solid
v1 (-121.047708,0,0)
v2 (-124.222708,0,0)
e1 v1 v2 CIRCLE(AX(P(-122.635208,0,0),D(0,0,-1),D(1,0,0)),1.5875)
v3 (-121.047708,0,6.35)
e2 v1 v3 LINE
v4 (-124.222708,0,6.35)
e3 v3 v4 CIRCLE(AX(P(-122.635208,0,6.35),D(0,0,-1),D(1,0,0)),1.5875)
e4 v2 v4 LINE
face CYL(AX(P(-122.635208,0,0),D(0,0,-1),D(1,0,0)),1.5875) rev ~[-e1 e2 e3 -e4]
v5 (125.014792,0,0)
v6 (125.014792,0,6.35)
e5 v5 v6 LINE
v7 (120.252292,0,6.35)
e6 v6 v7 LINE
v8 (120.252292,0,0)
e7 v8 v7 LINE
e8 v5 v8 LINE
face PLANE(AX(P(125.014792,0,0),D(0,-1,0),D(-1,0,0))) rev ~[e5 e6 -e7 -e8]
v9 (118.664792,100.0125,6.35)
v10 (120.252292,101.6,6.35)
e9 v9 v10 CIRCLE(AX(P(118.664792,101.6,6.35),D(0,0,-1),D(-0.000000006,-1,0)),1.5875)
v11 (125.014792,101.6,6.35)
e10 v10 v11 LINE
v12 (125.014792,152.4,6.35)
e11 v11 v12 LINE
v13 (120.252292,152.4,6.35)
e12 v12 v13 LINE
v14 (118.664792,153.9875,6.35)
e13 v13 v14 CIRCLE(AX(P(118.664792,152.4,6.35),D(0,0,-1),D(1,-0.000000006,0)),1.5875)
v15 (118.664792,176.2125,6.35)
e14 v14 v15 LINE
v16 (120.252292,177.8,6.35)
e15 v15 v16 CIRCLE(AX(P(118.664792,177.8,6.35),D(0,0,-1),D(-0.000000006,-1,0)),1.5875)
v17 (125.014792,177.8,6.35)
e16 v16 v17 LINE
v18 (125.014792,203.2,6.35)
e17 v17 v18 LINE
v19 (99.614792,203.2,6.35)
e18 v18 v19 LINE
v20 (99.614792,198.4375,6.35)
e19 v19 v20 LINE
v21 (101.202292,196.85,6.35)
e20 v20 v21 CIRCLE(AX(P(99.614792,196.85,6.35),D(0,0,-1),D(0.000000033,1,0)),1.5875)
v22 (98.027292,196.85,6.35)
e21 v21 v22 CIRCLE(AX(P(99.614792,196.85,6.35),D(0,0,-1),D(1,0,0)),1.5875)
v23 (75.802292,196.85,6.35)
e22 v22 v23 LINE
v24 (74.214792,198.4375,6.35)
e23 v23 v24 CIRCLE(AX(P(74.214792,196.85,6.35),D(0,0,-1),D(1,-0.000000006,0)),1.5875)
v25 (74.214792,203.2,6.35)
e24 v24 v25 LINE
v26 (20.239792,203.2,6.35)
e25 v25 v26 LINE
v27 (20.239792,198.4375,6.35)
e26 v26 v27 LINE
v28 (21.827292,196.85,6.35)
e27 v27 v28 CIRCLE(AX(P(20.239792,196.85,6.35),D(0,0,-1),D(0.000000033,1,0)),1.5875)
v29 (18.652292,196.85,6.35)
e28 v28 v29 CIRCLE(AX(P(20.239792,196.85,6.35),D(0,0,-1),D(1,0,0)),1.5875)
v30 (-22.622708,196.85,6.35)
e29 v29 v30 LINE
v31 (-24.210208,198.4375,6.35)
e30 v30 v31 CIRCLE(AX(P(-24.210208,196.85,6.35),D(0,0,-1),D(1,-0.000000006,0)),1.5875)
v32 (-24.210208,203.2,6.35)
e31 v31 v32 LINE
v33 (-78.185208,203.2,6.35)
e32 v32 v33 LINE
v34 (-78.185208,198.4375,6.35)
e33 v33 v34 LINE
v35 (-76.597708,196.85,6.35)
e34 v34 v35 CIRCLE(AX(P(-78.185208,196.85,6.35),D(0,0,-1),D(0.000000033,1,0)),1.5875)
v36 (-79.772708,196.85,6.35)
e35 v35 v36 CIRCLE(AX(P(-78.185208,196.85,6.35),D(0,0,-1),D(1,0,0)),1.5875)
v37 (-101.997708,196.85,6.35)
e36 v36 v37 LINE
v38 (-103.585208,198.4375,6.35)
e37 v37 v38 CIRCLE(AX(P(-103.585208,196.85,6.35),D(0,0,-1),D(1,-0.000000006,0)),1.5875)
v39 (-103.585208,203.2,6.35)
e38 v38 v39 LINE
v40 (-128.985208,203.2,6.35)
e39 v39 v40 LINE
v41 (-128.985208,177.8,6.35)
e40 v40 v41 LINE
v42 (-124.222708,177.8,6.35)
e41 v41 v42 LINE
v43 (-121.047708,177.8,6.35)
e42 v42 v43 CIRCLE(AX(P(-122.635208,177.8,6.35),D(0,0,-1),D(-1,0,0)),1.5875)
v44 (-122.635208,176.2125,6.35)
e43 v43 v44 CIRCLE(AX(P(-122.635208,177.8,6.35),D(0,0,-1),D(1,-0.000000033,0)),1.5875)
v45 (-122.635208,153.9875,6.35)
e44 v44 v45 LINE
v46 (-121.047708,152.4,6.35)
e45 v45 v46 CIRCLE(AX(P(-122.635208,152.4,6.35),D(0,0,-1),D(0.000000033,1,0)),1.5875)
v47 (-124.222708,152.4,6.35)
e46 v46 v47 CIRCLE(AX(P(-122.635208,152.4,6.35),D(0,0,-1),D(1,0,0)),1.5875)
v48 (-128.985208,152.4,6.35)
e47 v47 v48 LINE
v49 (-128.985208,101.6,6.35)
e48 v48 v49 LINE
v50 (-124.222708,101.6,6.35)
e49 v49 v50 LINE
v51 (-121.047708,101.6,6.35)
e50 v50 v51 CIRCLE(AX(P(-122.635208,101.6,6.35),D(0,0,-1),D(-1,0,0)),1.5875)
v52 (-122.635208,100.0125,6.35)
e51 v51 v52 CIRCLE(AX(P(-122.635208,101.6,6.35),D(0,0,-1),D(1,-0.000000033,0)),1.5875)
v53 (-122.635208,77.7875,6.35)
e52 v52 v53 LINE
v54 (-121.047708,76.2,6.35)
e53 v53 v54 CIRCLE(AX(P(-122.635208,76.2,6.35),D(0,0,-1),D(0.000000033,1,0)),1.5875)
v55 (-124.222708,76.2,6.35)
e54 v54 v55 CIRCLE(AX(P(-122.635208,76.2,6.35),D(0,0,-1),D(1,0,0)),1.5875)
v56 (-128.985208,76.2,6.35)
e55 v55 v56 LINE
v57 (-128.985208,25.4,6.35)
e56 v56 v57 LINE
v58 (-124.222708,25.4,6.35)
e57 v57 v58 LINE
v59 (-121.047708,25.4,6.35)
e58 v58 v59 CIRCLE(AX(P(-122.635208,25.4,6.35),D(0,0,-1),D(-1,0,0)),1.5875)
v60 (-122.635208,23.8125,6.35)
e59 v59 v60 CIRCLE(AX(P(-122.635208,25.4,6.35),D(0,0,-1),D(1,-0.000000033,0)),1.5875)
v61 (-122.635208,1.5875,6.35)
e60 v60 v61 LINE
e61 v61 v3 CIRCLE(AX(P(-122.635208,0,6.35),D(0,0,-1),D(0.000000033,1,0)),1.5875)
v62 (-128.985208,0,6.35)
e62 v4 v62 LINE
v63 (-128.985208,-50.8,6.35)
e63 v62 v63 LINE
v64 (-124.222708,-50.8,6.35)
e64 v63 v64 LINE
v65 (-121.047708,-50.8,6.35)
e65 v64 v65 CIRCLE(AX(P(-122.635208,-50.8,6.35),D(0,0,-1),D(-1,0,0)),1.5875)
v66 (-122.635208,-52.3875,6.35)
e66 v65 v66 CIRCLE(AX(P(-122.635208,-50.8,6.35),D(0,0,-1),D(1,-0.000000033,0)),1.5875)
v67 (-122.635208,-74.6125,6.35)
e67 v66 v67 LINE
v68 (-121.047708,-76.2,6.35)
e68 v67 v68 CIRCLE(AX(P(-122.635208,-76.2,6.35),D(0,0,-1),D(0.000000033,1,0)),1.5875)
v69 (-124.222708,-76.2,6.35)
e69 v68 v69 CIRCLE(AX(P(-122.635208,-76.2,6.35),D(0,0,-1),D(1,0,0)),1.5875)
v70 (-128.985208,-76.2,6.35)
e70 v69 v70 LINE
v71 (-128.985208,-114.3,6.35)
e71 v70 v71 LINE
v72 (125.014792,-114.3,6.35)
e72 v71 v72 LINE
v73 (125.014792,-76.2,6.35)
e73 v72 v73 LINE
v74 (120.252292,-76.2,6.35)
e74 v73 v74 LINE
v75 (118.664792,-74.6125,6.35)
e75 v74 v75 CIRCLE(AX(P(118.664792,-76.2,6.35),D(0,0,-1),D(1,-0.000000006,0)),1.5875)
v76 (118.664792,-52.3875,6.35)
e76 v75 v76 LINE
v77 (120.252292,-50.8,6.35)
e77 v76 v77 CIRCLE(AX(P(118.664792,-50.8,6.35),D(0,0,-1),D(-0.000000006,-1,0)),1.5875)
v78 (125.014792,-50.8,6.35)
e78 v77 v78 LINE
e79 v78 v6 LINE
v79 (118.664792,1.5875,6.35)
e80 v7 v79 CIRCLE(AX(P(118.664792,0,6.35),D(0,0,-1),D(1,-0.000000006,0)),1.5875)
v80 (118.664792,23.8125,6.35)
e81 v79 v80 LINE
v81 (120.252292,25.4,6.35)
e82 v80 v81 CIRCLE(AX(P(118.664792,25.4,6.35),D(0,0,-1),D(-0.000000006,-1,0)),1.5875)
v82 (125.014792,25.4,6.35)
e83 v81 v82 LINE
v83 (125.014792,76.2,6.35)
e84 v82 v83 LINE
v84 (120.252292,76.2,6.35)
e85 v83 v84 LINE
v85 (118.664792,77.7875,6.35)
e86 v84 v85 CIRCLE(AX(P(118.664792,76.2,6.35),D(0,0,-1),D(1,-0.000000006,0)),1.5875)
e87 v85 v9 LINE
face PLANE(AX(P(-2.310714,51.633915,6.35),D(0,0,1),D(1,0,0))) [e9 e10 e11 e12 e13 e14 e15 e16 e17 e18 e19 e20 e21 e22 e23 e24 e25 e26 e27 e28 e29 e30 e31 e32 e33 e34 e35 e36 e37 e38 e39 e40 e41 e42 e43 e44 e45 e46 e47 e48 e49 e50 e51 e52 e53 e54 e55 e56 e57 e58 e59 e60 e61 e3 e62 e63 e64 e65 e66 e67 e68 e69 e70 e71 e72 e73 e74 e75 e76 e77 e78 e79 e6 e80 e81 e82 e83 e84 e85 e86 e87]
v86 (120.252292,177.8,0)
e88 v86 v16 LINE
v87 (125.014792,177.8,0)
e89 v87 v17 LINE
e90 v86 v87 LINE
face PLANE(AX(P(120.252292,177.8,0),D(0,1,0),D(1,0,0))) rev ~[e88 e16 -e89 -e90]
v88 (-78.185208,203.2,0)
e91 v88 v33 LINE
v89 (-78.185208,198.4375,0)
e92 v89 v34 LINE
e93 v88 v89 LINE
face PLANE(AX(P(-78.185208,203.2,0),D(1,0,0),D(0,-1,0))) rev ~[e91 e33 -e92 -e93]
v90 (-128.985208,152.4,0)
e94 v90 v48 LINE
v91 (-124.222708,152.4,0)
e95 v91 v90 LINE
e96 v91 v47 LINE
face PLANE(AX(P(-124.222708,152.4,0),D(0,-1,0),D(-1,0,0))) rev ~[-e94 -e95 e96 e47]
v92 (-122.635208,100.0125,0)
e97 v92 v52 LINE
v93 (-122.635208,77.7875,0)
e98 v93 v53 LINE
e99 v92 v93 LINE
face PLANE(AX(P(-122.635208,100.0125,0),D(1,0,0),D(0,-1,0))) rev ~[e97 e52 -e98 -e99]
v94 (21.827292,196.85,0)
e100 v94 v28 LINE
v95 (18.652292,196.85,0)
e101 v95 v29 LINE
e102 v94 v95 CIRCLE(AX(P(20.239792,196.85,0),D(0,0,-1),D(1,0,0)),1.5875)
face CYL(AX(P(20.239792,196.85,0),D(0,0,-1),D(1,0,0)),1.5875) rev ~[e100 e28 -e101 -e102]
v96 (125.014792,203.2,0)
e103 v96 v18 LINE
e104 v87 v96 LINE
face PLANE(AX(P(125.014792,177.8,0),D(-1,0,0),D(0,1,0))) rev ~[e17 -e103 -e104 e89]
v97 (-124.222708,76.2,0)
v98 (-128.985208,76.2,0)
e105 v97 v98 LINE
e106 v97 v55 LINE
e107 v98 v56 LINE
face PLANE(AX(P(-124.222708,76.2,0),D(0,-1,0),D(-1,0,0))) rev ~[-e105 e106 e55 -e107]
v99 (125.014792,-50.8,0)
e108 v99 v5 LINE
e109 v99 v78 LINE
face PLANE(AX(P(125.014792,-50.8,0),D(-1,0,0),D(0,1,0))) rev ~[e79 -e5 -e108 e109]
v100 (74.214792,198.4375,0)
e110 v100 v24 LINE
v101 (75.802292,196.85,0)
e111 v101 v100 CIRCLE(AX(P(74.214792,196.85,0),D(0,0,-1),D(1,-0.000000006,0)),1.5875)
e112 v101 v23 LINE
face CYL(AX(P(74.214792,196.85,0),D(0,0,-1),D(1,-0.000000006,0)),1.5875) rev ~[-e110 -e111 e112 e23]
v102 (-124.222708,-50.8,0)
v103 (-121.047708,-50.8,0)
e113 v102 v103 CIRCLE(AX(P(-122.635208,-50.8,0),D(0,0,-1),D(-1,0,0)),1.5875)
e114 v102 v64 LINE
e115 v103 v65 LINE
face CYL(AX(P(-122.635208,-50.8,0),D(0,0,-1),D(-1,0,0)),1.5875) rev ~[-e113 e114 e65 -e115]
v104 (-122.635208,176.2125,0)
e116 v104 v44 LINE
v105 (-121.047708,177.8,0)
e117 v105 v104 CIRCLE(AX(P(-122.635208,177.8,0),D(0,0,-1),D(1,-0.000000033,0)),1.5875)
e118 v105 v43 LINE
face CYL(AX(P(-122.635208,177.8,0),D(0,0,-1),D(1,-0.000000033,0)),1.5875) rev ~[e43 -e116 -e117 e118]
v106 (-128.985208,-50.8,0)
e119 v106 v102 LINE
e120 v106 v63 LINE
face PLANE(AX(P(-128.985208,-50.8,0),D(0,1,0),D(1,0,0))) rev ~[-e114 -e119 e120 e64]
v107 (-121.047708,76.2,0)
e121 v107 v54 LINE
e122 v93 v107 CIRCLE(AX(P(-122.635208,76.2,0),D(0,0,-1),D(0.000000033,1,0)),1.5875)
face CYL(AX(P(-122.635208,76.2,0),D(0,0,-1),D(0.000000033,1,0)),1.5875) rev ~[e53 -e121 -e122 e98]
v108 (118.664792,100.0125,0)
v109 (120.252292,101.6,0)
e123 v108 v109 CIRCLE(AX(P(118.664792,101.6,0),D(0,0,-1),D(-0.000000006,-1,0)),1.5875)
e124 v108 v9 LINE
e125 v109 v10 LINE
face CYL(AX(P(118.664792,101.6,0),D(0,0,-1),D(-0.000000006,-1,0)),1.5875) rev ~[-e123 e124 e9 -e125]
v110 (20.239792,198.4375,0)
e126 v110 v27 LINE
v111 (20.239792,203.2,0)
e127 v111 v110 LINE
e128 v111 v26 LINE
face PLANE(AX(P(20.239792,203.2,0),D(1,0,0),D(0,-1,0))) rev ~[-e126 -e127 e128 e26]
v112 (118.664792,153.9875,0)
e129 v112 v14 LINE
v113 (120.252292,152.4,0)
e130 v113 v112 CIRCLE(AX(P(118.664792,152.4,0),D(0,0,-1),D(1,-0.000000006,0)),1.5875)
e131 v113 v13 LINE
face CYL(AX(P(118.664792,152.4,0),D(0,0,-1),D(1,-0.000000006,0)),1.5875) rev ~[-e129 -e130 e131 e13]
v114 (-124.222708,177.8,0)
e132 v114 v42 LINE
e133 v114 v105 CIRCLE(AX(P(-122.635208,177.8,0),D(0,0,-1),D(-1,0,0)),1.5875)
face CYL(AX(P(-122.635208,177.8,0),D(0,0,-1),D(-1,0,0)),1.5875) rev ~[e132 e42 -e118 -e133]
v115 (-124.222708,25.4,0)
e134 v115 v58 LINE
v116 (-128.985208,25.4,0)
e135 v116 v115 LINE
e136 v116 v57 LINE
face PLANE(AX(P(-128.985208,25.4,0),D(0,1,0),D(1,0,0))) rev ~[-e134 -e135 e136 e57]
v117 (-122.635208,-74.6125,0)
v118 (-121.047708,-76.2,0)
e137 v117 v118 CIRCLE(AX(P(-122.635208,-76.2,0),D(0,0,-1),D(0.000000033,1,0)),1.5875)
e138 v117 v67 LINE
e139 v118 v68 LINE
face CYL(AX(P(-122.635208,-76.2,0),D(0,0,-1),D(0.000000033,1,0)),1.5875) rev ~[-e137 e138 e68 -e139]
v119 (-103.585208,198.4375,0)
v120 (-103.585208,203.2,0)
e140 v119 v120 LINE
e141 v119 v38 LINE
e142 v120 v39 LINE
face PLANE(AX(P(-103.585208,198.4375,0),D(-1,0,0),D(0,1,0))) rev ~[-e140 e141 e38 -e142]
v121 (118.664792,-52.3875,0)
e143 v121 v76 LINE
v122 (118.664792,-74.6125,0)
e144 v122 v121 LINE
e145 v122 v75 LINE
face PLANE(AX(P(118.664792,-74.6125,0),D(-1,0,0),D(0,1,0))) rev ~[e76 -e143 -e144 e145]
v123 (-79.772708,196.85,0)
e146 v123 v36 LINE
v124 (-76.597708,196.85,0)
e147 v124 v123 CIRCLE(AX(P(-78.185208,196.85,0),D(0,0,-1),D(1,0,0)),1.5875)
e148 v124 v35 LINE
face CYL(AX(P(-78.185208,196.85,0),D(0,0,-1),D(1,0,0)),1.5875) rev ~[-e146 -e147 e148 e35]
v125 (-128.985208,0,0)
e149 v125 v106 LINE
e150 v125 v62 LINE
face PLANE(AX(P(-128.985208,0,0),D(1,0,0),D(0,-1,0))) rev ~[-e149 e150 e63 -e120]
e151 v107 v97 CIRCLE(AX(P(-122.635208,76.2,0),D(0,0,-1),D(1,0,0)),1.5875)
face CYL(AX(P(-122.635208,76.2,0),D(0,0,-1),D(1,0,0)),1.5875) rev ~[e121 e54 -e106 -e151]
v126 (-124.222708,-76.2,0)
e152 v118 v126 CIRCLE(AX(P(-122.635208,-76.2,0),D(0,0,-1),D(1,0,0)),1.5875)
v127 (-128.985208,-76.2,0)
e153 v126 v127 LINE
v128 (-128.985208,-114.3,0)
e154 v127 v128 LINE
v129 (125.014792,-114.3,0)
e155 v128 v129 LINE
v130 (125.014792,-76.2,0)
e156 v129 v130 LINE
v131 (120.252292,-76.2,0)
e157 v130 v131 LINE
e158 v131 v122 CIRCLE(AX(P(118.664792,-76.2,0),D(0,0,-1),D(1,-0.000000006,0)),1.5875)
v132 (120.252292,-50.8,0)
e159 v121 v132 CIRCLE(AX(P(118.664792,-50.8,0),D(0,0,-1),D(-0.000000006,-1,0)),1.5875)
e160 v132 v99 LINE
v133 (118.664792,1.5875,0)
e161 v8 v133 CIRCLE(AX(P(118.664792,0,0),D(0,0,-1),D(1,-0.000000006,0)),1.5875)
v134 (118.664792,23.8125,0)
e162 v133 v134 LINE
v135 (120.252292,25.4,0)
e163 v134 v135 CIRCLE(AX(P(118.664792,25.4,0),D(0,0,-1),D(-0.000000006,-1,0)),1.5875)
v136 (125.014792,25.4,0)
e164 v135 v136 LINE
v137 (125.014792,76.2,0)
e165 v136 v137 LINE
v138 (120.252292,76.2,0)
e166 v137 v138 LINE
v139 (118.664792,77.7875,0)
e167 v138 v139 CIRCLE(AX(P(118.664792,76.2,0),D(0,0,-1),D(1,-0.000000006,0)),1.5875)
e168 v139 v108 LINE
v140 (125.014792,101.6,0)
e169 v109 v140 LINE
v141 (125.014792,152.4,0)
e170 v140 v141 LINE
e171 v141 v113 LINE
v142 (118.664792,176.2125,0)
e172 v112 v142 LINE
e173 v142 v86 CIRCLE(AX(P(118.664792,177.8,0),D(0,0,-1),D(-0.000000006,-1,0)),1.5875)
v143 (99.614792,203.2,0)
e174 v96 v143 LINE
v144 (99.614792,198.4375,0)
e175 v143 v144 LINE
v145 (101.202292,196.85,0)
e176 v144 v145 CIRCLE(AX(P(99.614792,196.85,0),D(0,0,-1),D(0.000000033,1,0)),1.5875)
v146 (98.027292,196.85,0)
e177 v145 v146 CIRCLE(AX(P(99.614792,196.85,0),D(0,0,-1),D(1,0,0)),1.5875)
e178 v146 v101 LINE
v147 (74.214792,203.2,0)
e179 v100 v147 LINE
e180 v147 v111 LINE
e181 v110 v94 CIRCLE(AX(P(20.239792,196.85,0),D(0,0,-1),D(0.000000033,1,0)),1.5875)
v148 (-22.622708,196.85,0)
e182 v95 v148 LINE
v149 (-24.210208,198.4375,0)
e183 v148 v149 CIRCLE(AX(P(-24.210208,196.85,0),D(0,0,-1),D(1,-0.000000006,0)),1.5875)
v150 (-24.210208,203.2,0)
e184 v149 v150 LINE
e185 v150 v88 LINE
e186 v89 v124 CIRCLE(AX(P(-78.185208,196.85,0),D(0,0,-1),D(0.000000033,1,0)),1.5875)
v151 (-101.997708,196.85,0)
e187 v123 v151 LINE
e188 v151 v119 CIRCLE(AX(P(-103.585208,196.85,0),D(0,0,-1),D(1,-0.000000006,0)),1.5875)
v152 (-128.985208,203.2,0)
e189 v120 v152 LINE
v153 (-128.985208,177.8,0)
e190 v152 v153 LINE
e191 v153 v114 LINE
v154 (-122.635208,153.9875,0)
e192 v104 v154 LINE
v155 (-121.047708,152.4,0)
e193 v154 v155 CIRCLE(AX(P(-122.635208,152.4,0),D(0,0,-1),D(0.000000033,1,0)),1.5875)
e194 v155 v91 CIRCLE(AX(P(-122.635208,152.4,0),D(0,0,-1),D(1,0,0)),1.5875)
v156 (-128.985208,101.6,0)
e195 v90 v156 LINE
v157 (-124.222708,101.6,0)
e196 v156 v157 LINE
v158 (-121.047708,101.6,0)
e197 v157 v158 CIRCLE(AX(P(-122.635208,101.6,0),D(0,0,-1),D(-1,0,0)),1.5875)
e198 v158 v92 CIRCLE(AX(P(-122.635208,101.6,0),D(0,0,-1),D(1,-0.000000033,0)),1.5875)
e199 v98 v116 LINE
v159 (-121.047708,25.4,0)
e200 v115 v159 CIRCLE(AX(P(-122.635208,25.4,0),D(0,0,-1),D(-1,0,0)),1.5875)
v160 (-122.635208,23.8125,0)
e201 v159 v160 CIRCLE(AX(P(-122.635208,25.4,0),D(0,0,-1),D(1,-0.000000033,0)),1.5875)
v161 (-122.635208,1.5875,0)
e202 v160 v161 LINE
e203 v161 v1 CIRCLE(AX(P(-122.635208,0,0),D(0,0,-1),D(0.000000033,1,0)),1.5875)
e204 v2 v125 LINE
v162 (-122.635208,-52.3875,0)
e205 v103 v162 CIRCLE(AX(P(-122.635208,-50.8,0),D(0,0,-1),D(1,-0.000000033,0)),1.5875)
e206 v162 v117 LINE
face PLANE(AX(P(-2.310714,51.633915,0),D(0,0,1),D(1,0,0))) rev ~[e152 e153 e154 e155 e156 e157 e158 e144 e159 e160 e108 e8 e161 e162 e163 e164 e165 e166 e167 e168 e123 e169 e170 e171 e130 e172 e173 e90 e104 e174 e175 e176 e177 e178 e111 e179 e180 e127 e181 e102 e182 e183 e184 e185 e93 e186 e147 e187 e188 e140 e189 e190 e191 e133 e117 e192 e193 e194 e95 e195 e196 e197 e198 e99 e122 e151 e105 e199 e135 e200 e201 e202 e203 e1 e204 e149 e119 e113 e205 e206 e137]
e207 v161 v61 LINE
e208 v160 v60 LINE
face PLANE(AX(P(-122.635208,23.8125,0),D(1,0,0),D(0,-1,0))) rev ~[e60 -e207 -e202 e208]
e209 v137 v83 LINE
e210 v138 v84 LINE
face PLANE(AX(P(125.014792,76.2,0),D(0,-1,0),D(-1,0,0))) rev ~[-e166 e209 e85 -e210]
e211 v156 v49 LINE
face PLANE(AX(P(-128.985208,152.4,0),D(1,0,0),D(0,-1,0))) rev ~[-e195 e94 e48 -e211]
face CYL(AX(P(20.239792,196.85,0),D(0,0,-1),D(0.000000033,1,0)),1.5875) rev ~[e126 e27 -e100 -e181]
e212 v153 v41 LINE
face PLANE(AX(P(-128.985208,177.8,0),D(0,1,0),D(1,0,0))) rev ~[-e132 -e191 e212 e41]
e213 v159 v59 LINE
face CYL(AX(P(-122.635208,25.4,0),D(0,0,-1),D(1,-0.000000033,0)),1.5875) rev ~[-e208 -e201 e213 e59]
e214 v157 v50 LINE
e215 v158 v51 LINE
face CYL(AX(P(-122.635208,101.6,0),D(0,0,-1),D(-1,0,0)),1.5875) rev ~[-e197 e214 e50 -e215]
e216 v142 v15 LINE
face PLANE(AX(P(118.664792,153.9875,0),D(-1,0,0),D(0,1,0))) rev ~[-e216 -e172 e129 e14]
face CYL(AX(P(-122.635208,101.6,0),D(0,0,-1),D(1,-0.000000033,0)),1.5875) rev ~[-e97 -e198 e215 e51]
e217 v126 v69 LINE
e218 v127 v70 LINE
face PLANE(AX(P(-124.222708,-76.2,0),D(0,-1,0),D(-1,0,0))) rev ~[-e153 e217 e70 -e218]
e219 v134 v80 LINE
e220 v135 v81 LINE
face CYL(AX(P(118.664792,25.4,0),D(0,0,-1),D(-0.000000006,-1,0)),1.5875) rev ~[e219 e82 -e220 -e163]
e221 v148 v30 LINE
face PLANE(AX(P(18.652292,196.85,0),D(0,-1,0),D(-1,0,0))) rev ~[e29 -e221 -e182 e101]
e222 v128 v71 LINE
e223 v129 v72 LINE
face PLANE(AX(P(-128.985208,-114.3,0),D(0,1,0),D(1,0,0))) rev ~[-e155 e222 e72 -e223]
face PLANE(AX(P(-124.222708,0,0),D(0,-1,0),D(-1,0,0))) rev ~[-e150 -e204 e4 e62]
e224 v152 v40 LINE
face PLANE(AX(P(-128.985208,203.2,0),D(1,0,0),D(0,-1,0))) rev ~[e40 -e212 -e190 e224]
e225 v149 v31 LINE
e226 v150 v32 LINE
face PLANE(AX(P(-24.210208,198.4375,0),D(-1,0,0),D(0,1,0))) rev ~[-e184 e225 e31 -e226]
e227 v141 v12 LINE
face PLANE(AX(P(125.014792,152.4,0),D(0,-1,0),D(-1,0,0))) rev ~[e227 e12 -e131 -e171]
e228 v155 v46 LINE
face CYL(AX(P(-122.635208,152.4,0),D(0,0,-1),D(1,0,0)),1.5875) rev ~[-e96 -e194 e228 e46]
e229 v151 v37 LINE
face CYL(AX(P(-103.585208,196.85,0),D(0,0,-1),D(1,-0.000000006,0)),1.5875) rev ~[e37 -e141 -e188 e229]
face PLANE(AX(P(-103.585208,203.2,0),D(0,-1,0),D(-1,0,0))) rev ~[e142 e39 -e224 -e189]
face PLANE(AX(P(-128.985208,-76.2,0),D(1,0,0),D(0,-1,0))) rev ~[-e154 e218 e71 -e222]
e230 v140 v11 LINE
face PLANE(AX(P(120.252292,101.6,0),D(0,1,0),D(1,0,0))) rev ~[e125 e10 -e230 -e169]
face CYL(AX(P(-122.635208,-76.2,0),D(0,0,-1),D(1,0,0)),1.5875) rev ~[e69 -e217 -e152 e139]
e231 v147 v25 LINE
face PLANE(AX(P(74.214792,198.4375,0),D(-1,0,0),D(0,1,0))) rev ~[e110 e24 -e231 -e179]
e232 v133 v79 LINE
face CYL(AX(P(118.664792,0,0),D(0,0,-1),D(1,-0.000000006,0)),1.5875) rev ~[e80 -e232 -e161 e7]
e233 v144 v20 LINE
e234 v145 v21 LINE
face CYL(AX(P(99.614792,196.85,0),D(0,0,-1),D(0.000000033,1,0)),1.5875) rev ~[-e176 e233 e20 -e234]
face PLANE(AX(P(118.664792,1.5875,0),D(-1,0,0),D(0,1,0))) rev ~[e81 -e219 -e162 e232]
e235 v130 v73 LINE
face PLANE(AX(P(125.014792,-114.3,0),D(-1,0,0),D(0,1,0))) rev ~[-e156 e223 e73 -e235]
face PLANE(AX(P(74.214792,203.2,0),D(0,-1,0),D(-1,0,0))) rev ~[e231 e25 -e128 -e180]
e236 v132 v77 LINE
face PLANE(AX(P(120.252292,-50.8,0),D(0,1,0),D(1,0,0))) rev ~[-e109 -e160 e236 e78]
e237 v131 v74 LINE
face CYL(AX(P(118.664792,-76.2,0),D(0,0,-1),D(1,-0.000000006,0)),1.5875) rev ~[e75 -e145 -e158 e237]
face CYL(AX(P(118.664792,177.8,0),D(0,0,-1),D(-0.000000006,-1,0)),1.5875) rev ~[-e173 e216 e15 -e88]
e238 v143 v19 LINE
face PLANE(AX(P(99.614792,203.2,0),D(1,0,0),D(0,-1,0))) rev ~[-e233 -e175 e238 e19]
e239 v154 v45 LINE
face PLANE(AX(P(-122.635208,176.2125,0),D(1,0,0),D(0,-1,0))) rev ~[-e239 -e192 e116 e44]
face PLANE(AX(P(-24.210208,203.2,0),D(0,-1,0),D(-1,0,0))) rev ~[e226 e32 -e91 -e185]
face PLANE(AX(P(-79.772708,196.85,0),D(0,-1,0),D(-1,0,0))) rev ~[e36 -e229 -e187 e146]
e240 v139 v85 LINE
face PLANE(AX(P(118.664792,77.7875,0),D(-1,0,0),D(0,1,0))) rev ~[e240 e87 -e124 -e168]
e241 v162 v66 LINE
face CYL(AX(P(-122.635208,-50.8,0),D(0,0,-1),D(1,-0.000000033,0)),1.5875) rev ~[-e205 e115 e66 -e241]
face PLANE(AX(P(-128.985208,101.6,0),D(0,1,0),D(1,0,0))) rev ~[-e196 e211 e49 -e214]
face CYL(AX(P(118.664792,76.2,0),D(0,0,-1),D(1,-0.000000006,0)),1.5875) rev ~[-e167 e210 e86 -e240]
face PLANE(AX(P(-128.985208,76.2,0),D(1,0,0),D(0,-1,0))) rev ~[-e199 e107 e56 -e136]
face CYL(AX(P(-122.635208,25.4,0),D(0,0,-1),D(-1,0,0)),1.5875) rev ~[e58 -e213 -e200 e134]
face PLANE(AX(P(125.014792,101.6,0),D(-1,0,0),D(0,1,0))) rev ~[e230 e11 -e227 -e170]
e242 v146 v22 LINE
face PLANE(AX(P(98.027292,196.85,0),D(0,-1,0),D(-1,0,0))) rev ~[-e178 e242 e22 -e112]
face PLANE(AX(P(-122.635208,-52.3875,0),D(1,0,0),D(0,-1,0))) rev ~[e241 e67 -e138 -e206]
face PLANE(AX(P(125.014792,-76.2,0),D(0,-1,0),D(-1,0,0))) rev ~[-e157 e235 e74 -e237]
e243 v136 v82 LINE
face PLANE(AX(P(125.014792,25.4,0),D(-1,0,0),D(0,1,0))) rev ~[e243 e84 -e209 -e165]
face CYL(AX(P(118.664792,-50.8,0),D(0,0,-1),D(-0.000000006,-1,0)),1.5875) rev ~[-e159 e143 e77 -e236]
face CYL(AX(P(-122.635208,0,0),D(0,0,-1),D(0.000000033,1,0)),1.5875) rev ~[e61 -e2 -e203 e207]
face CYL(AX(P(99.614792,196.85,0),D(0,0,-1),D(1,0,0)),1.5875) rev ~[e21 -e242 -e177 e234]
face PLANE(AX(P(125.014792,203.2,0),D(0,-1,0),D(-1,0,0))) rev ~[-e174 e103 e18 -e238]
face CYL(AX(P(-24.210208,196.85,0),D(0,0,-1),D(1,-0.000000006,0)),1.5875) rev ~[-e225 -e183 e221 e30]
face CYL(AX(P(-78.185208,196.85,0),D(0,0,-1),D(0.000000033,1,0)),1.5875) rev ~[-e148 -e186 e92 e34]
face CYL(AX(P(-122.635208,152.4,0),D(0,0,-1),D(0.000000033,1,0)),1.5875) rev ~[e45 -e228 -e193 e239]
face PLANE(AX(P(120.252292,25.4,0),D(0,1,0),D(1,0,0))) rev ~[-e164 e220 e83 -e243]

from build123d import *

# Parameters (mm, degrees)
F1_DEPTH = 6.35


with BuildPart() as f1:
    # F0 (on Top) → F1 (new body)
    with BuildSketch(Plane.XY):
        with BuildLine():
            Line((-103.585208, 203.2), (-128.985208, 203.2))
            Line((-128.985208, 203.2), (-128.985208, 177.8))
            Line((-128.985208, 177.8), (-124.222708, 177.8))
            ThreePointArc((-124.222708, 177.8), (-122.635208, 179.3875), (-121.047708, 177.8))
            ThreePointArc((-121.047708, 177.8), (-121.512676, 176.677468), (-122.635208, 176.2125))
            Line((-122.635208, 176.2125), (-122.635208, 153.9875))
            ThreePointArc((-122.635208, 153.9875), (-121.512676, 153.522532), (-121.047708, 152.4))
            ThreePointArc((-121.047708, 152.4), (-122.635208, 150.8125), (-124.222708, 152.4))
            Line((-124.222708, 152.4), (-128.985208, 152.4))
            Line((-128.985208, 152.4), (-128.985208, 101.6))
            Line((-128.985208, 101.6), (-124.222708, 101.6))
            ThreePointArc((-124.222708, 101.6), (-122.635208, 103.1875), (-121.047708, 101.6))
            ThreePointArc((-121.047708, 101.6), (-121.512676, 100.477468), (-122.635208, 100.0125))
            Line((-122.635208, 100.0125), (-122.635208, 77.7875))
            ThreePointArc((-122.635208, 77.7875), (-121.512676, 77.322532), (-121.047708, 76.2))
            ThreePointArc((-121.047708, 76.2), (-122.635208, 74.6125), (-124.222708, 76.2))
            Line((-124.222708, 76.2), (-128.985208, 76.2))
            Line((-128.985208, 76.2), (-128.985208, 25.4))
            Line((-128.985208, 25.4), (-124.222708, 25.4))
            ThreePointArc((-124.222708, 25.4), (-122.635208, 26.9875), (-121.047708, 25.4))
            ThreePointArc((-121.047708, 25.4), (-121.512676, 24.277468), (-122.635208, 23.8125))
            Line((-122.635208, 23.8125), (-122.635208, 1.5875))
            ThreePointArc((-122.635208, 1.5875), (-121.512676, 1.122532), (-121.047708, 0))
            ThreePointArc((-121.047708, 0), (-122.635208, -1.5875), (-124.222708, 0))
            Line((-124.222708, 0), (-128.985208, 0))
            Line((-128.985208, 0), (-128.985208, -50.8))
            Line((-128.985208, -50.8), (-124.222708, -50.8))
            ThreePointArc((-124.222708, -50.8), (-122.635208, -49.2125), (-121.047708, -50.8))
            ThreePointArc((-121.047708, -50.8), (-121.512676, -51.922532), (-122.635208, -52.3875))
            Line((-122.635208, -52.3875), (-122.635208, -74.6125))
            ThreePointArc((-122.635208, -74.6125), (-121.512676, -75.077468), (-121.047708, -76.2))
            ThreePointArc((-121.047708, -76.2), (-122.635208, -77.7875), (-124.222708, -76.2))
            Line((-124.222708, -76.2), (-128.985208, -76.2))
            Line((-128.985208, -76.2), (-128.985208, -114.3))
            Line((-128.985208, -114.3), (125.014792, -114.3))
            Line((125.014792, -114.3), (125.014792, -76.2))
            Line((125.014792, -76.2), (120.252292, -76.2))
            ThreePointArc((120.252292, -76.2), (117.54226, -77.322532), (118.664792, -74.6125))
            Line((118.664792, -74.6125), (118.664792, -52.3875))
            ThreePointArc((118.664792, -52.3875), (117.54226, -49.677468), (120.252292, -50.8))
            Line((120.252292, -50.8), (125.014792, -50.8))
            Line((125.014792, -50.8), (125.014792, 0))
            Line((125.014792, 0), (120.252292, 0))
            ThreePointArc((120.252292, 0), (117.54226, -1.122532), (118.664792, 1.5875))
            Line((118.664792, 1.5875), (118.664792, 23.8125))
            ThreePointArc((118.664792, 23.8125), (117.54226, 26.522532), (120.252292, 25.4))
            Line((120.252292, 25.4), (125.014792, 25.4))
            Line((125.014792, 25.4), (125.014792, 76.2))
            Line((125.014792, 76.2), (120.252292, 76.2))
            ThreePointArc((120.252292, 76.2), (117.54226, 75.077468), (118.664792, 77.7875))
            Line((118.664792, 77.7875), (118.664792, 100.0125))
            ThreePointArc((118.664792, 100.0125), (117.54226, 102.722532), (120.252292, 101.6))
            Line((120.252292, 101.6), (125.014792, 101.6))
            Line((125.014792, 101.6), (125.014792, 152.4))
            Line((125.014792, 152.4), (120.252292, 152.4))
            ThreePointArc((120.252292, 152.4), (117.54226, 151.277468), (118.664792, 153.9875))
            Line((118.664792, 153.9875), (118.664792, 176.2125))
            ThreePointArc((118.664792, 176.2125), (117.54226, 178.922532), (120.252292, 177.8))
            Line((120.252292, 177.8), (125.014792, 177.8))
            Line((125.014792, 177.8), (125.014792, 203.2))
            Line((125.014792, 203.2), (99.614792, 203.2))
            Line((99.614792, 203.2), (99.614792, 198.4375))
            ThreePointArc((99.614792, 198.4375), (100.737324, 197.972532), (101.202292, 196.85))
            ThreePointArc((101.202292, 196.85), (99.614792, 195.2625), (98.027292, 196.85))
            Line((98.027292, 196.85), (75.802292, 196.85))
            ThreePointArc((75.802292, 196.85), (73.09226, 195.727468), (74.214792, 198.4375))
            Line((74.214792, 198.4375), (74.214792, 203.2))
            Line((74.214792, 203.2), (20.239792, 203.2))
            Line((20.239792, 203.2), (20.239792, 198.4375))
            ThreePointArc((20.239792, 198.4375), (21.362324, 197.972532), (21.827292, 196.85))
            ThreePointArc((21.827292, 196.85), (20.239792, 195.2625), (18.652292, 196.85))
            Line((18.652292, 196.85), (-22.622708, 196.85))
            ThreePointArc((-22.622708, 196.85), (-25.33274, 195.727468), (-24.210208, 198.4375))
            Line((-24.210208, 198.4375), (-24.210208, 203.2))
            Line((-24.210208, 203.2), (-78.185208, 203.2))
            Line((-78.185208, 203.2), (-78.185208, 198.4375))
            ThreePointArc((-78.185208, 198.4375), (-77.062676, 197.972532), (-76.597708, 196.85))
            ThreePointArc((-76.597708, 196.85), (-78.185208, 195.2625), (-79.772708, 196.85))
            Line((-79.772708, 196.85), (-101.997708, 196.85))
            ThreePointArc((-101.997708, 196.85), (-104.70774, 195.727468), (-103.585208, 198.4375))
            Line((-103.585208, 198.4375), (-103.585208, 203.2))
        make_face()
    extrude(amount=F1_DEPTH)


solid = f1.part
